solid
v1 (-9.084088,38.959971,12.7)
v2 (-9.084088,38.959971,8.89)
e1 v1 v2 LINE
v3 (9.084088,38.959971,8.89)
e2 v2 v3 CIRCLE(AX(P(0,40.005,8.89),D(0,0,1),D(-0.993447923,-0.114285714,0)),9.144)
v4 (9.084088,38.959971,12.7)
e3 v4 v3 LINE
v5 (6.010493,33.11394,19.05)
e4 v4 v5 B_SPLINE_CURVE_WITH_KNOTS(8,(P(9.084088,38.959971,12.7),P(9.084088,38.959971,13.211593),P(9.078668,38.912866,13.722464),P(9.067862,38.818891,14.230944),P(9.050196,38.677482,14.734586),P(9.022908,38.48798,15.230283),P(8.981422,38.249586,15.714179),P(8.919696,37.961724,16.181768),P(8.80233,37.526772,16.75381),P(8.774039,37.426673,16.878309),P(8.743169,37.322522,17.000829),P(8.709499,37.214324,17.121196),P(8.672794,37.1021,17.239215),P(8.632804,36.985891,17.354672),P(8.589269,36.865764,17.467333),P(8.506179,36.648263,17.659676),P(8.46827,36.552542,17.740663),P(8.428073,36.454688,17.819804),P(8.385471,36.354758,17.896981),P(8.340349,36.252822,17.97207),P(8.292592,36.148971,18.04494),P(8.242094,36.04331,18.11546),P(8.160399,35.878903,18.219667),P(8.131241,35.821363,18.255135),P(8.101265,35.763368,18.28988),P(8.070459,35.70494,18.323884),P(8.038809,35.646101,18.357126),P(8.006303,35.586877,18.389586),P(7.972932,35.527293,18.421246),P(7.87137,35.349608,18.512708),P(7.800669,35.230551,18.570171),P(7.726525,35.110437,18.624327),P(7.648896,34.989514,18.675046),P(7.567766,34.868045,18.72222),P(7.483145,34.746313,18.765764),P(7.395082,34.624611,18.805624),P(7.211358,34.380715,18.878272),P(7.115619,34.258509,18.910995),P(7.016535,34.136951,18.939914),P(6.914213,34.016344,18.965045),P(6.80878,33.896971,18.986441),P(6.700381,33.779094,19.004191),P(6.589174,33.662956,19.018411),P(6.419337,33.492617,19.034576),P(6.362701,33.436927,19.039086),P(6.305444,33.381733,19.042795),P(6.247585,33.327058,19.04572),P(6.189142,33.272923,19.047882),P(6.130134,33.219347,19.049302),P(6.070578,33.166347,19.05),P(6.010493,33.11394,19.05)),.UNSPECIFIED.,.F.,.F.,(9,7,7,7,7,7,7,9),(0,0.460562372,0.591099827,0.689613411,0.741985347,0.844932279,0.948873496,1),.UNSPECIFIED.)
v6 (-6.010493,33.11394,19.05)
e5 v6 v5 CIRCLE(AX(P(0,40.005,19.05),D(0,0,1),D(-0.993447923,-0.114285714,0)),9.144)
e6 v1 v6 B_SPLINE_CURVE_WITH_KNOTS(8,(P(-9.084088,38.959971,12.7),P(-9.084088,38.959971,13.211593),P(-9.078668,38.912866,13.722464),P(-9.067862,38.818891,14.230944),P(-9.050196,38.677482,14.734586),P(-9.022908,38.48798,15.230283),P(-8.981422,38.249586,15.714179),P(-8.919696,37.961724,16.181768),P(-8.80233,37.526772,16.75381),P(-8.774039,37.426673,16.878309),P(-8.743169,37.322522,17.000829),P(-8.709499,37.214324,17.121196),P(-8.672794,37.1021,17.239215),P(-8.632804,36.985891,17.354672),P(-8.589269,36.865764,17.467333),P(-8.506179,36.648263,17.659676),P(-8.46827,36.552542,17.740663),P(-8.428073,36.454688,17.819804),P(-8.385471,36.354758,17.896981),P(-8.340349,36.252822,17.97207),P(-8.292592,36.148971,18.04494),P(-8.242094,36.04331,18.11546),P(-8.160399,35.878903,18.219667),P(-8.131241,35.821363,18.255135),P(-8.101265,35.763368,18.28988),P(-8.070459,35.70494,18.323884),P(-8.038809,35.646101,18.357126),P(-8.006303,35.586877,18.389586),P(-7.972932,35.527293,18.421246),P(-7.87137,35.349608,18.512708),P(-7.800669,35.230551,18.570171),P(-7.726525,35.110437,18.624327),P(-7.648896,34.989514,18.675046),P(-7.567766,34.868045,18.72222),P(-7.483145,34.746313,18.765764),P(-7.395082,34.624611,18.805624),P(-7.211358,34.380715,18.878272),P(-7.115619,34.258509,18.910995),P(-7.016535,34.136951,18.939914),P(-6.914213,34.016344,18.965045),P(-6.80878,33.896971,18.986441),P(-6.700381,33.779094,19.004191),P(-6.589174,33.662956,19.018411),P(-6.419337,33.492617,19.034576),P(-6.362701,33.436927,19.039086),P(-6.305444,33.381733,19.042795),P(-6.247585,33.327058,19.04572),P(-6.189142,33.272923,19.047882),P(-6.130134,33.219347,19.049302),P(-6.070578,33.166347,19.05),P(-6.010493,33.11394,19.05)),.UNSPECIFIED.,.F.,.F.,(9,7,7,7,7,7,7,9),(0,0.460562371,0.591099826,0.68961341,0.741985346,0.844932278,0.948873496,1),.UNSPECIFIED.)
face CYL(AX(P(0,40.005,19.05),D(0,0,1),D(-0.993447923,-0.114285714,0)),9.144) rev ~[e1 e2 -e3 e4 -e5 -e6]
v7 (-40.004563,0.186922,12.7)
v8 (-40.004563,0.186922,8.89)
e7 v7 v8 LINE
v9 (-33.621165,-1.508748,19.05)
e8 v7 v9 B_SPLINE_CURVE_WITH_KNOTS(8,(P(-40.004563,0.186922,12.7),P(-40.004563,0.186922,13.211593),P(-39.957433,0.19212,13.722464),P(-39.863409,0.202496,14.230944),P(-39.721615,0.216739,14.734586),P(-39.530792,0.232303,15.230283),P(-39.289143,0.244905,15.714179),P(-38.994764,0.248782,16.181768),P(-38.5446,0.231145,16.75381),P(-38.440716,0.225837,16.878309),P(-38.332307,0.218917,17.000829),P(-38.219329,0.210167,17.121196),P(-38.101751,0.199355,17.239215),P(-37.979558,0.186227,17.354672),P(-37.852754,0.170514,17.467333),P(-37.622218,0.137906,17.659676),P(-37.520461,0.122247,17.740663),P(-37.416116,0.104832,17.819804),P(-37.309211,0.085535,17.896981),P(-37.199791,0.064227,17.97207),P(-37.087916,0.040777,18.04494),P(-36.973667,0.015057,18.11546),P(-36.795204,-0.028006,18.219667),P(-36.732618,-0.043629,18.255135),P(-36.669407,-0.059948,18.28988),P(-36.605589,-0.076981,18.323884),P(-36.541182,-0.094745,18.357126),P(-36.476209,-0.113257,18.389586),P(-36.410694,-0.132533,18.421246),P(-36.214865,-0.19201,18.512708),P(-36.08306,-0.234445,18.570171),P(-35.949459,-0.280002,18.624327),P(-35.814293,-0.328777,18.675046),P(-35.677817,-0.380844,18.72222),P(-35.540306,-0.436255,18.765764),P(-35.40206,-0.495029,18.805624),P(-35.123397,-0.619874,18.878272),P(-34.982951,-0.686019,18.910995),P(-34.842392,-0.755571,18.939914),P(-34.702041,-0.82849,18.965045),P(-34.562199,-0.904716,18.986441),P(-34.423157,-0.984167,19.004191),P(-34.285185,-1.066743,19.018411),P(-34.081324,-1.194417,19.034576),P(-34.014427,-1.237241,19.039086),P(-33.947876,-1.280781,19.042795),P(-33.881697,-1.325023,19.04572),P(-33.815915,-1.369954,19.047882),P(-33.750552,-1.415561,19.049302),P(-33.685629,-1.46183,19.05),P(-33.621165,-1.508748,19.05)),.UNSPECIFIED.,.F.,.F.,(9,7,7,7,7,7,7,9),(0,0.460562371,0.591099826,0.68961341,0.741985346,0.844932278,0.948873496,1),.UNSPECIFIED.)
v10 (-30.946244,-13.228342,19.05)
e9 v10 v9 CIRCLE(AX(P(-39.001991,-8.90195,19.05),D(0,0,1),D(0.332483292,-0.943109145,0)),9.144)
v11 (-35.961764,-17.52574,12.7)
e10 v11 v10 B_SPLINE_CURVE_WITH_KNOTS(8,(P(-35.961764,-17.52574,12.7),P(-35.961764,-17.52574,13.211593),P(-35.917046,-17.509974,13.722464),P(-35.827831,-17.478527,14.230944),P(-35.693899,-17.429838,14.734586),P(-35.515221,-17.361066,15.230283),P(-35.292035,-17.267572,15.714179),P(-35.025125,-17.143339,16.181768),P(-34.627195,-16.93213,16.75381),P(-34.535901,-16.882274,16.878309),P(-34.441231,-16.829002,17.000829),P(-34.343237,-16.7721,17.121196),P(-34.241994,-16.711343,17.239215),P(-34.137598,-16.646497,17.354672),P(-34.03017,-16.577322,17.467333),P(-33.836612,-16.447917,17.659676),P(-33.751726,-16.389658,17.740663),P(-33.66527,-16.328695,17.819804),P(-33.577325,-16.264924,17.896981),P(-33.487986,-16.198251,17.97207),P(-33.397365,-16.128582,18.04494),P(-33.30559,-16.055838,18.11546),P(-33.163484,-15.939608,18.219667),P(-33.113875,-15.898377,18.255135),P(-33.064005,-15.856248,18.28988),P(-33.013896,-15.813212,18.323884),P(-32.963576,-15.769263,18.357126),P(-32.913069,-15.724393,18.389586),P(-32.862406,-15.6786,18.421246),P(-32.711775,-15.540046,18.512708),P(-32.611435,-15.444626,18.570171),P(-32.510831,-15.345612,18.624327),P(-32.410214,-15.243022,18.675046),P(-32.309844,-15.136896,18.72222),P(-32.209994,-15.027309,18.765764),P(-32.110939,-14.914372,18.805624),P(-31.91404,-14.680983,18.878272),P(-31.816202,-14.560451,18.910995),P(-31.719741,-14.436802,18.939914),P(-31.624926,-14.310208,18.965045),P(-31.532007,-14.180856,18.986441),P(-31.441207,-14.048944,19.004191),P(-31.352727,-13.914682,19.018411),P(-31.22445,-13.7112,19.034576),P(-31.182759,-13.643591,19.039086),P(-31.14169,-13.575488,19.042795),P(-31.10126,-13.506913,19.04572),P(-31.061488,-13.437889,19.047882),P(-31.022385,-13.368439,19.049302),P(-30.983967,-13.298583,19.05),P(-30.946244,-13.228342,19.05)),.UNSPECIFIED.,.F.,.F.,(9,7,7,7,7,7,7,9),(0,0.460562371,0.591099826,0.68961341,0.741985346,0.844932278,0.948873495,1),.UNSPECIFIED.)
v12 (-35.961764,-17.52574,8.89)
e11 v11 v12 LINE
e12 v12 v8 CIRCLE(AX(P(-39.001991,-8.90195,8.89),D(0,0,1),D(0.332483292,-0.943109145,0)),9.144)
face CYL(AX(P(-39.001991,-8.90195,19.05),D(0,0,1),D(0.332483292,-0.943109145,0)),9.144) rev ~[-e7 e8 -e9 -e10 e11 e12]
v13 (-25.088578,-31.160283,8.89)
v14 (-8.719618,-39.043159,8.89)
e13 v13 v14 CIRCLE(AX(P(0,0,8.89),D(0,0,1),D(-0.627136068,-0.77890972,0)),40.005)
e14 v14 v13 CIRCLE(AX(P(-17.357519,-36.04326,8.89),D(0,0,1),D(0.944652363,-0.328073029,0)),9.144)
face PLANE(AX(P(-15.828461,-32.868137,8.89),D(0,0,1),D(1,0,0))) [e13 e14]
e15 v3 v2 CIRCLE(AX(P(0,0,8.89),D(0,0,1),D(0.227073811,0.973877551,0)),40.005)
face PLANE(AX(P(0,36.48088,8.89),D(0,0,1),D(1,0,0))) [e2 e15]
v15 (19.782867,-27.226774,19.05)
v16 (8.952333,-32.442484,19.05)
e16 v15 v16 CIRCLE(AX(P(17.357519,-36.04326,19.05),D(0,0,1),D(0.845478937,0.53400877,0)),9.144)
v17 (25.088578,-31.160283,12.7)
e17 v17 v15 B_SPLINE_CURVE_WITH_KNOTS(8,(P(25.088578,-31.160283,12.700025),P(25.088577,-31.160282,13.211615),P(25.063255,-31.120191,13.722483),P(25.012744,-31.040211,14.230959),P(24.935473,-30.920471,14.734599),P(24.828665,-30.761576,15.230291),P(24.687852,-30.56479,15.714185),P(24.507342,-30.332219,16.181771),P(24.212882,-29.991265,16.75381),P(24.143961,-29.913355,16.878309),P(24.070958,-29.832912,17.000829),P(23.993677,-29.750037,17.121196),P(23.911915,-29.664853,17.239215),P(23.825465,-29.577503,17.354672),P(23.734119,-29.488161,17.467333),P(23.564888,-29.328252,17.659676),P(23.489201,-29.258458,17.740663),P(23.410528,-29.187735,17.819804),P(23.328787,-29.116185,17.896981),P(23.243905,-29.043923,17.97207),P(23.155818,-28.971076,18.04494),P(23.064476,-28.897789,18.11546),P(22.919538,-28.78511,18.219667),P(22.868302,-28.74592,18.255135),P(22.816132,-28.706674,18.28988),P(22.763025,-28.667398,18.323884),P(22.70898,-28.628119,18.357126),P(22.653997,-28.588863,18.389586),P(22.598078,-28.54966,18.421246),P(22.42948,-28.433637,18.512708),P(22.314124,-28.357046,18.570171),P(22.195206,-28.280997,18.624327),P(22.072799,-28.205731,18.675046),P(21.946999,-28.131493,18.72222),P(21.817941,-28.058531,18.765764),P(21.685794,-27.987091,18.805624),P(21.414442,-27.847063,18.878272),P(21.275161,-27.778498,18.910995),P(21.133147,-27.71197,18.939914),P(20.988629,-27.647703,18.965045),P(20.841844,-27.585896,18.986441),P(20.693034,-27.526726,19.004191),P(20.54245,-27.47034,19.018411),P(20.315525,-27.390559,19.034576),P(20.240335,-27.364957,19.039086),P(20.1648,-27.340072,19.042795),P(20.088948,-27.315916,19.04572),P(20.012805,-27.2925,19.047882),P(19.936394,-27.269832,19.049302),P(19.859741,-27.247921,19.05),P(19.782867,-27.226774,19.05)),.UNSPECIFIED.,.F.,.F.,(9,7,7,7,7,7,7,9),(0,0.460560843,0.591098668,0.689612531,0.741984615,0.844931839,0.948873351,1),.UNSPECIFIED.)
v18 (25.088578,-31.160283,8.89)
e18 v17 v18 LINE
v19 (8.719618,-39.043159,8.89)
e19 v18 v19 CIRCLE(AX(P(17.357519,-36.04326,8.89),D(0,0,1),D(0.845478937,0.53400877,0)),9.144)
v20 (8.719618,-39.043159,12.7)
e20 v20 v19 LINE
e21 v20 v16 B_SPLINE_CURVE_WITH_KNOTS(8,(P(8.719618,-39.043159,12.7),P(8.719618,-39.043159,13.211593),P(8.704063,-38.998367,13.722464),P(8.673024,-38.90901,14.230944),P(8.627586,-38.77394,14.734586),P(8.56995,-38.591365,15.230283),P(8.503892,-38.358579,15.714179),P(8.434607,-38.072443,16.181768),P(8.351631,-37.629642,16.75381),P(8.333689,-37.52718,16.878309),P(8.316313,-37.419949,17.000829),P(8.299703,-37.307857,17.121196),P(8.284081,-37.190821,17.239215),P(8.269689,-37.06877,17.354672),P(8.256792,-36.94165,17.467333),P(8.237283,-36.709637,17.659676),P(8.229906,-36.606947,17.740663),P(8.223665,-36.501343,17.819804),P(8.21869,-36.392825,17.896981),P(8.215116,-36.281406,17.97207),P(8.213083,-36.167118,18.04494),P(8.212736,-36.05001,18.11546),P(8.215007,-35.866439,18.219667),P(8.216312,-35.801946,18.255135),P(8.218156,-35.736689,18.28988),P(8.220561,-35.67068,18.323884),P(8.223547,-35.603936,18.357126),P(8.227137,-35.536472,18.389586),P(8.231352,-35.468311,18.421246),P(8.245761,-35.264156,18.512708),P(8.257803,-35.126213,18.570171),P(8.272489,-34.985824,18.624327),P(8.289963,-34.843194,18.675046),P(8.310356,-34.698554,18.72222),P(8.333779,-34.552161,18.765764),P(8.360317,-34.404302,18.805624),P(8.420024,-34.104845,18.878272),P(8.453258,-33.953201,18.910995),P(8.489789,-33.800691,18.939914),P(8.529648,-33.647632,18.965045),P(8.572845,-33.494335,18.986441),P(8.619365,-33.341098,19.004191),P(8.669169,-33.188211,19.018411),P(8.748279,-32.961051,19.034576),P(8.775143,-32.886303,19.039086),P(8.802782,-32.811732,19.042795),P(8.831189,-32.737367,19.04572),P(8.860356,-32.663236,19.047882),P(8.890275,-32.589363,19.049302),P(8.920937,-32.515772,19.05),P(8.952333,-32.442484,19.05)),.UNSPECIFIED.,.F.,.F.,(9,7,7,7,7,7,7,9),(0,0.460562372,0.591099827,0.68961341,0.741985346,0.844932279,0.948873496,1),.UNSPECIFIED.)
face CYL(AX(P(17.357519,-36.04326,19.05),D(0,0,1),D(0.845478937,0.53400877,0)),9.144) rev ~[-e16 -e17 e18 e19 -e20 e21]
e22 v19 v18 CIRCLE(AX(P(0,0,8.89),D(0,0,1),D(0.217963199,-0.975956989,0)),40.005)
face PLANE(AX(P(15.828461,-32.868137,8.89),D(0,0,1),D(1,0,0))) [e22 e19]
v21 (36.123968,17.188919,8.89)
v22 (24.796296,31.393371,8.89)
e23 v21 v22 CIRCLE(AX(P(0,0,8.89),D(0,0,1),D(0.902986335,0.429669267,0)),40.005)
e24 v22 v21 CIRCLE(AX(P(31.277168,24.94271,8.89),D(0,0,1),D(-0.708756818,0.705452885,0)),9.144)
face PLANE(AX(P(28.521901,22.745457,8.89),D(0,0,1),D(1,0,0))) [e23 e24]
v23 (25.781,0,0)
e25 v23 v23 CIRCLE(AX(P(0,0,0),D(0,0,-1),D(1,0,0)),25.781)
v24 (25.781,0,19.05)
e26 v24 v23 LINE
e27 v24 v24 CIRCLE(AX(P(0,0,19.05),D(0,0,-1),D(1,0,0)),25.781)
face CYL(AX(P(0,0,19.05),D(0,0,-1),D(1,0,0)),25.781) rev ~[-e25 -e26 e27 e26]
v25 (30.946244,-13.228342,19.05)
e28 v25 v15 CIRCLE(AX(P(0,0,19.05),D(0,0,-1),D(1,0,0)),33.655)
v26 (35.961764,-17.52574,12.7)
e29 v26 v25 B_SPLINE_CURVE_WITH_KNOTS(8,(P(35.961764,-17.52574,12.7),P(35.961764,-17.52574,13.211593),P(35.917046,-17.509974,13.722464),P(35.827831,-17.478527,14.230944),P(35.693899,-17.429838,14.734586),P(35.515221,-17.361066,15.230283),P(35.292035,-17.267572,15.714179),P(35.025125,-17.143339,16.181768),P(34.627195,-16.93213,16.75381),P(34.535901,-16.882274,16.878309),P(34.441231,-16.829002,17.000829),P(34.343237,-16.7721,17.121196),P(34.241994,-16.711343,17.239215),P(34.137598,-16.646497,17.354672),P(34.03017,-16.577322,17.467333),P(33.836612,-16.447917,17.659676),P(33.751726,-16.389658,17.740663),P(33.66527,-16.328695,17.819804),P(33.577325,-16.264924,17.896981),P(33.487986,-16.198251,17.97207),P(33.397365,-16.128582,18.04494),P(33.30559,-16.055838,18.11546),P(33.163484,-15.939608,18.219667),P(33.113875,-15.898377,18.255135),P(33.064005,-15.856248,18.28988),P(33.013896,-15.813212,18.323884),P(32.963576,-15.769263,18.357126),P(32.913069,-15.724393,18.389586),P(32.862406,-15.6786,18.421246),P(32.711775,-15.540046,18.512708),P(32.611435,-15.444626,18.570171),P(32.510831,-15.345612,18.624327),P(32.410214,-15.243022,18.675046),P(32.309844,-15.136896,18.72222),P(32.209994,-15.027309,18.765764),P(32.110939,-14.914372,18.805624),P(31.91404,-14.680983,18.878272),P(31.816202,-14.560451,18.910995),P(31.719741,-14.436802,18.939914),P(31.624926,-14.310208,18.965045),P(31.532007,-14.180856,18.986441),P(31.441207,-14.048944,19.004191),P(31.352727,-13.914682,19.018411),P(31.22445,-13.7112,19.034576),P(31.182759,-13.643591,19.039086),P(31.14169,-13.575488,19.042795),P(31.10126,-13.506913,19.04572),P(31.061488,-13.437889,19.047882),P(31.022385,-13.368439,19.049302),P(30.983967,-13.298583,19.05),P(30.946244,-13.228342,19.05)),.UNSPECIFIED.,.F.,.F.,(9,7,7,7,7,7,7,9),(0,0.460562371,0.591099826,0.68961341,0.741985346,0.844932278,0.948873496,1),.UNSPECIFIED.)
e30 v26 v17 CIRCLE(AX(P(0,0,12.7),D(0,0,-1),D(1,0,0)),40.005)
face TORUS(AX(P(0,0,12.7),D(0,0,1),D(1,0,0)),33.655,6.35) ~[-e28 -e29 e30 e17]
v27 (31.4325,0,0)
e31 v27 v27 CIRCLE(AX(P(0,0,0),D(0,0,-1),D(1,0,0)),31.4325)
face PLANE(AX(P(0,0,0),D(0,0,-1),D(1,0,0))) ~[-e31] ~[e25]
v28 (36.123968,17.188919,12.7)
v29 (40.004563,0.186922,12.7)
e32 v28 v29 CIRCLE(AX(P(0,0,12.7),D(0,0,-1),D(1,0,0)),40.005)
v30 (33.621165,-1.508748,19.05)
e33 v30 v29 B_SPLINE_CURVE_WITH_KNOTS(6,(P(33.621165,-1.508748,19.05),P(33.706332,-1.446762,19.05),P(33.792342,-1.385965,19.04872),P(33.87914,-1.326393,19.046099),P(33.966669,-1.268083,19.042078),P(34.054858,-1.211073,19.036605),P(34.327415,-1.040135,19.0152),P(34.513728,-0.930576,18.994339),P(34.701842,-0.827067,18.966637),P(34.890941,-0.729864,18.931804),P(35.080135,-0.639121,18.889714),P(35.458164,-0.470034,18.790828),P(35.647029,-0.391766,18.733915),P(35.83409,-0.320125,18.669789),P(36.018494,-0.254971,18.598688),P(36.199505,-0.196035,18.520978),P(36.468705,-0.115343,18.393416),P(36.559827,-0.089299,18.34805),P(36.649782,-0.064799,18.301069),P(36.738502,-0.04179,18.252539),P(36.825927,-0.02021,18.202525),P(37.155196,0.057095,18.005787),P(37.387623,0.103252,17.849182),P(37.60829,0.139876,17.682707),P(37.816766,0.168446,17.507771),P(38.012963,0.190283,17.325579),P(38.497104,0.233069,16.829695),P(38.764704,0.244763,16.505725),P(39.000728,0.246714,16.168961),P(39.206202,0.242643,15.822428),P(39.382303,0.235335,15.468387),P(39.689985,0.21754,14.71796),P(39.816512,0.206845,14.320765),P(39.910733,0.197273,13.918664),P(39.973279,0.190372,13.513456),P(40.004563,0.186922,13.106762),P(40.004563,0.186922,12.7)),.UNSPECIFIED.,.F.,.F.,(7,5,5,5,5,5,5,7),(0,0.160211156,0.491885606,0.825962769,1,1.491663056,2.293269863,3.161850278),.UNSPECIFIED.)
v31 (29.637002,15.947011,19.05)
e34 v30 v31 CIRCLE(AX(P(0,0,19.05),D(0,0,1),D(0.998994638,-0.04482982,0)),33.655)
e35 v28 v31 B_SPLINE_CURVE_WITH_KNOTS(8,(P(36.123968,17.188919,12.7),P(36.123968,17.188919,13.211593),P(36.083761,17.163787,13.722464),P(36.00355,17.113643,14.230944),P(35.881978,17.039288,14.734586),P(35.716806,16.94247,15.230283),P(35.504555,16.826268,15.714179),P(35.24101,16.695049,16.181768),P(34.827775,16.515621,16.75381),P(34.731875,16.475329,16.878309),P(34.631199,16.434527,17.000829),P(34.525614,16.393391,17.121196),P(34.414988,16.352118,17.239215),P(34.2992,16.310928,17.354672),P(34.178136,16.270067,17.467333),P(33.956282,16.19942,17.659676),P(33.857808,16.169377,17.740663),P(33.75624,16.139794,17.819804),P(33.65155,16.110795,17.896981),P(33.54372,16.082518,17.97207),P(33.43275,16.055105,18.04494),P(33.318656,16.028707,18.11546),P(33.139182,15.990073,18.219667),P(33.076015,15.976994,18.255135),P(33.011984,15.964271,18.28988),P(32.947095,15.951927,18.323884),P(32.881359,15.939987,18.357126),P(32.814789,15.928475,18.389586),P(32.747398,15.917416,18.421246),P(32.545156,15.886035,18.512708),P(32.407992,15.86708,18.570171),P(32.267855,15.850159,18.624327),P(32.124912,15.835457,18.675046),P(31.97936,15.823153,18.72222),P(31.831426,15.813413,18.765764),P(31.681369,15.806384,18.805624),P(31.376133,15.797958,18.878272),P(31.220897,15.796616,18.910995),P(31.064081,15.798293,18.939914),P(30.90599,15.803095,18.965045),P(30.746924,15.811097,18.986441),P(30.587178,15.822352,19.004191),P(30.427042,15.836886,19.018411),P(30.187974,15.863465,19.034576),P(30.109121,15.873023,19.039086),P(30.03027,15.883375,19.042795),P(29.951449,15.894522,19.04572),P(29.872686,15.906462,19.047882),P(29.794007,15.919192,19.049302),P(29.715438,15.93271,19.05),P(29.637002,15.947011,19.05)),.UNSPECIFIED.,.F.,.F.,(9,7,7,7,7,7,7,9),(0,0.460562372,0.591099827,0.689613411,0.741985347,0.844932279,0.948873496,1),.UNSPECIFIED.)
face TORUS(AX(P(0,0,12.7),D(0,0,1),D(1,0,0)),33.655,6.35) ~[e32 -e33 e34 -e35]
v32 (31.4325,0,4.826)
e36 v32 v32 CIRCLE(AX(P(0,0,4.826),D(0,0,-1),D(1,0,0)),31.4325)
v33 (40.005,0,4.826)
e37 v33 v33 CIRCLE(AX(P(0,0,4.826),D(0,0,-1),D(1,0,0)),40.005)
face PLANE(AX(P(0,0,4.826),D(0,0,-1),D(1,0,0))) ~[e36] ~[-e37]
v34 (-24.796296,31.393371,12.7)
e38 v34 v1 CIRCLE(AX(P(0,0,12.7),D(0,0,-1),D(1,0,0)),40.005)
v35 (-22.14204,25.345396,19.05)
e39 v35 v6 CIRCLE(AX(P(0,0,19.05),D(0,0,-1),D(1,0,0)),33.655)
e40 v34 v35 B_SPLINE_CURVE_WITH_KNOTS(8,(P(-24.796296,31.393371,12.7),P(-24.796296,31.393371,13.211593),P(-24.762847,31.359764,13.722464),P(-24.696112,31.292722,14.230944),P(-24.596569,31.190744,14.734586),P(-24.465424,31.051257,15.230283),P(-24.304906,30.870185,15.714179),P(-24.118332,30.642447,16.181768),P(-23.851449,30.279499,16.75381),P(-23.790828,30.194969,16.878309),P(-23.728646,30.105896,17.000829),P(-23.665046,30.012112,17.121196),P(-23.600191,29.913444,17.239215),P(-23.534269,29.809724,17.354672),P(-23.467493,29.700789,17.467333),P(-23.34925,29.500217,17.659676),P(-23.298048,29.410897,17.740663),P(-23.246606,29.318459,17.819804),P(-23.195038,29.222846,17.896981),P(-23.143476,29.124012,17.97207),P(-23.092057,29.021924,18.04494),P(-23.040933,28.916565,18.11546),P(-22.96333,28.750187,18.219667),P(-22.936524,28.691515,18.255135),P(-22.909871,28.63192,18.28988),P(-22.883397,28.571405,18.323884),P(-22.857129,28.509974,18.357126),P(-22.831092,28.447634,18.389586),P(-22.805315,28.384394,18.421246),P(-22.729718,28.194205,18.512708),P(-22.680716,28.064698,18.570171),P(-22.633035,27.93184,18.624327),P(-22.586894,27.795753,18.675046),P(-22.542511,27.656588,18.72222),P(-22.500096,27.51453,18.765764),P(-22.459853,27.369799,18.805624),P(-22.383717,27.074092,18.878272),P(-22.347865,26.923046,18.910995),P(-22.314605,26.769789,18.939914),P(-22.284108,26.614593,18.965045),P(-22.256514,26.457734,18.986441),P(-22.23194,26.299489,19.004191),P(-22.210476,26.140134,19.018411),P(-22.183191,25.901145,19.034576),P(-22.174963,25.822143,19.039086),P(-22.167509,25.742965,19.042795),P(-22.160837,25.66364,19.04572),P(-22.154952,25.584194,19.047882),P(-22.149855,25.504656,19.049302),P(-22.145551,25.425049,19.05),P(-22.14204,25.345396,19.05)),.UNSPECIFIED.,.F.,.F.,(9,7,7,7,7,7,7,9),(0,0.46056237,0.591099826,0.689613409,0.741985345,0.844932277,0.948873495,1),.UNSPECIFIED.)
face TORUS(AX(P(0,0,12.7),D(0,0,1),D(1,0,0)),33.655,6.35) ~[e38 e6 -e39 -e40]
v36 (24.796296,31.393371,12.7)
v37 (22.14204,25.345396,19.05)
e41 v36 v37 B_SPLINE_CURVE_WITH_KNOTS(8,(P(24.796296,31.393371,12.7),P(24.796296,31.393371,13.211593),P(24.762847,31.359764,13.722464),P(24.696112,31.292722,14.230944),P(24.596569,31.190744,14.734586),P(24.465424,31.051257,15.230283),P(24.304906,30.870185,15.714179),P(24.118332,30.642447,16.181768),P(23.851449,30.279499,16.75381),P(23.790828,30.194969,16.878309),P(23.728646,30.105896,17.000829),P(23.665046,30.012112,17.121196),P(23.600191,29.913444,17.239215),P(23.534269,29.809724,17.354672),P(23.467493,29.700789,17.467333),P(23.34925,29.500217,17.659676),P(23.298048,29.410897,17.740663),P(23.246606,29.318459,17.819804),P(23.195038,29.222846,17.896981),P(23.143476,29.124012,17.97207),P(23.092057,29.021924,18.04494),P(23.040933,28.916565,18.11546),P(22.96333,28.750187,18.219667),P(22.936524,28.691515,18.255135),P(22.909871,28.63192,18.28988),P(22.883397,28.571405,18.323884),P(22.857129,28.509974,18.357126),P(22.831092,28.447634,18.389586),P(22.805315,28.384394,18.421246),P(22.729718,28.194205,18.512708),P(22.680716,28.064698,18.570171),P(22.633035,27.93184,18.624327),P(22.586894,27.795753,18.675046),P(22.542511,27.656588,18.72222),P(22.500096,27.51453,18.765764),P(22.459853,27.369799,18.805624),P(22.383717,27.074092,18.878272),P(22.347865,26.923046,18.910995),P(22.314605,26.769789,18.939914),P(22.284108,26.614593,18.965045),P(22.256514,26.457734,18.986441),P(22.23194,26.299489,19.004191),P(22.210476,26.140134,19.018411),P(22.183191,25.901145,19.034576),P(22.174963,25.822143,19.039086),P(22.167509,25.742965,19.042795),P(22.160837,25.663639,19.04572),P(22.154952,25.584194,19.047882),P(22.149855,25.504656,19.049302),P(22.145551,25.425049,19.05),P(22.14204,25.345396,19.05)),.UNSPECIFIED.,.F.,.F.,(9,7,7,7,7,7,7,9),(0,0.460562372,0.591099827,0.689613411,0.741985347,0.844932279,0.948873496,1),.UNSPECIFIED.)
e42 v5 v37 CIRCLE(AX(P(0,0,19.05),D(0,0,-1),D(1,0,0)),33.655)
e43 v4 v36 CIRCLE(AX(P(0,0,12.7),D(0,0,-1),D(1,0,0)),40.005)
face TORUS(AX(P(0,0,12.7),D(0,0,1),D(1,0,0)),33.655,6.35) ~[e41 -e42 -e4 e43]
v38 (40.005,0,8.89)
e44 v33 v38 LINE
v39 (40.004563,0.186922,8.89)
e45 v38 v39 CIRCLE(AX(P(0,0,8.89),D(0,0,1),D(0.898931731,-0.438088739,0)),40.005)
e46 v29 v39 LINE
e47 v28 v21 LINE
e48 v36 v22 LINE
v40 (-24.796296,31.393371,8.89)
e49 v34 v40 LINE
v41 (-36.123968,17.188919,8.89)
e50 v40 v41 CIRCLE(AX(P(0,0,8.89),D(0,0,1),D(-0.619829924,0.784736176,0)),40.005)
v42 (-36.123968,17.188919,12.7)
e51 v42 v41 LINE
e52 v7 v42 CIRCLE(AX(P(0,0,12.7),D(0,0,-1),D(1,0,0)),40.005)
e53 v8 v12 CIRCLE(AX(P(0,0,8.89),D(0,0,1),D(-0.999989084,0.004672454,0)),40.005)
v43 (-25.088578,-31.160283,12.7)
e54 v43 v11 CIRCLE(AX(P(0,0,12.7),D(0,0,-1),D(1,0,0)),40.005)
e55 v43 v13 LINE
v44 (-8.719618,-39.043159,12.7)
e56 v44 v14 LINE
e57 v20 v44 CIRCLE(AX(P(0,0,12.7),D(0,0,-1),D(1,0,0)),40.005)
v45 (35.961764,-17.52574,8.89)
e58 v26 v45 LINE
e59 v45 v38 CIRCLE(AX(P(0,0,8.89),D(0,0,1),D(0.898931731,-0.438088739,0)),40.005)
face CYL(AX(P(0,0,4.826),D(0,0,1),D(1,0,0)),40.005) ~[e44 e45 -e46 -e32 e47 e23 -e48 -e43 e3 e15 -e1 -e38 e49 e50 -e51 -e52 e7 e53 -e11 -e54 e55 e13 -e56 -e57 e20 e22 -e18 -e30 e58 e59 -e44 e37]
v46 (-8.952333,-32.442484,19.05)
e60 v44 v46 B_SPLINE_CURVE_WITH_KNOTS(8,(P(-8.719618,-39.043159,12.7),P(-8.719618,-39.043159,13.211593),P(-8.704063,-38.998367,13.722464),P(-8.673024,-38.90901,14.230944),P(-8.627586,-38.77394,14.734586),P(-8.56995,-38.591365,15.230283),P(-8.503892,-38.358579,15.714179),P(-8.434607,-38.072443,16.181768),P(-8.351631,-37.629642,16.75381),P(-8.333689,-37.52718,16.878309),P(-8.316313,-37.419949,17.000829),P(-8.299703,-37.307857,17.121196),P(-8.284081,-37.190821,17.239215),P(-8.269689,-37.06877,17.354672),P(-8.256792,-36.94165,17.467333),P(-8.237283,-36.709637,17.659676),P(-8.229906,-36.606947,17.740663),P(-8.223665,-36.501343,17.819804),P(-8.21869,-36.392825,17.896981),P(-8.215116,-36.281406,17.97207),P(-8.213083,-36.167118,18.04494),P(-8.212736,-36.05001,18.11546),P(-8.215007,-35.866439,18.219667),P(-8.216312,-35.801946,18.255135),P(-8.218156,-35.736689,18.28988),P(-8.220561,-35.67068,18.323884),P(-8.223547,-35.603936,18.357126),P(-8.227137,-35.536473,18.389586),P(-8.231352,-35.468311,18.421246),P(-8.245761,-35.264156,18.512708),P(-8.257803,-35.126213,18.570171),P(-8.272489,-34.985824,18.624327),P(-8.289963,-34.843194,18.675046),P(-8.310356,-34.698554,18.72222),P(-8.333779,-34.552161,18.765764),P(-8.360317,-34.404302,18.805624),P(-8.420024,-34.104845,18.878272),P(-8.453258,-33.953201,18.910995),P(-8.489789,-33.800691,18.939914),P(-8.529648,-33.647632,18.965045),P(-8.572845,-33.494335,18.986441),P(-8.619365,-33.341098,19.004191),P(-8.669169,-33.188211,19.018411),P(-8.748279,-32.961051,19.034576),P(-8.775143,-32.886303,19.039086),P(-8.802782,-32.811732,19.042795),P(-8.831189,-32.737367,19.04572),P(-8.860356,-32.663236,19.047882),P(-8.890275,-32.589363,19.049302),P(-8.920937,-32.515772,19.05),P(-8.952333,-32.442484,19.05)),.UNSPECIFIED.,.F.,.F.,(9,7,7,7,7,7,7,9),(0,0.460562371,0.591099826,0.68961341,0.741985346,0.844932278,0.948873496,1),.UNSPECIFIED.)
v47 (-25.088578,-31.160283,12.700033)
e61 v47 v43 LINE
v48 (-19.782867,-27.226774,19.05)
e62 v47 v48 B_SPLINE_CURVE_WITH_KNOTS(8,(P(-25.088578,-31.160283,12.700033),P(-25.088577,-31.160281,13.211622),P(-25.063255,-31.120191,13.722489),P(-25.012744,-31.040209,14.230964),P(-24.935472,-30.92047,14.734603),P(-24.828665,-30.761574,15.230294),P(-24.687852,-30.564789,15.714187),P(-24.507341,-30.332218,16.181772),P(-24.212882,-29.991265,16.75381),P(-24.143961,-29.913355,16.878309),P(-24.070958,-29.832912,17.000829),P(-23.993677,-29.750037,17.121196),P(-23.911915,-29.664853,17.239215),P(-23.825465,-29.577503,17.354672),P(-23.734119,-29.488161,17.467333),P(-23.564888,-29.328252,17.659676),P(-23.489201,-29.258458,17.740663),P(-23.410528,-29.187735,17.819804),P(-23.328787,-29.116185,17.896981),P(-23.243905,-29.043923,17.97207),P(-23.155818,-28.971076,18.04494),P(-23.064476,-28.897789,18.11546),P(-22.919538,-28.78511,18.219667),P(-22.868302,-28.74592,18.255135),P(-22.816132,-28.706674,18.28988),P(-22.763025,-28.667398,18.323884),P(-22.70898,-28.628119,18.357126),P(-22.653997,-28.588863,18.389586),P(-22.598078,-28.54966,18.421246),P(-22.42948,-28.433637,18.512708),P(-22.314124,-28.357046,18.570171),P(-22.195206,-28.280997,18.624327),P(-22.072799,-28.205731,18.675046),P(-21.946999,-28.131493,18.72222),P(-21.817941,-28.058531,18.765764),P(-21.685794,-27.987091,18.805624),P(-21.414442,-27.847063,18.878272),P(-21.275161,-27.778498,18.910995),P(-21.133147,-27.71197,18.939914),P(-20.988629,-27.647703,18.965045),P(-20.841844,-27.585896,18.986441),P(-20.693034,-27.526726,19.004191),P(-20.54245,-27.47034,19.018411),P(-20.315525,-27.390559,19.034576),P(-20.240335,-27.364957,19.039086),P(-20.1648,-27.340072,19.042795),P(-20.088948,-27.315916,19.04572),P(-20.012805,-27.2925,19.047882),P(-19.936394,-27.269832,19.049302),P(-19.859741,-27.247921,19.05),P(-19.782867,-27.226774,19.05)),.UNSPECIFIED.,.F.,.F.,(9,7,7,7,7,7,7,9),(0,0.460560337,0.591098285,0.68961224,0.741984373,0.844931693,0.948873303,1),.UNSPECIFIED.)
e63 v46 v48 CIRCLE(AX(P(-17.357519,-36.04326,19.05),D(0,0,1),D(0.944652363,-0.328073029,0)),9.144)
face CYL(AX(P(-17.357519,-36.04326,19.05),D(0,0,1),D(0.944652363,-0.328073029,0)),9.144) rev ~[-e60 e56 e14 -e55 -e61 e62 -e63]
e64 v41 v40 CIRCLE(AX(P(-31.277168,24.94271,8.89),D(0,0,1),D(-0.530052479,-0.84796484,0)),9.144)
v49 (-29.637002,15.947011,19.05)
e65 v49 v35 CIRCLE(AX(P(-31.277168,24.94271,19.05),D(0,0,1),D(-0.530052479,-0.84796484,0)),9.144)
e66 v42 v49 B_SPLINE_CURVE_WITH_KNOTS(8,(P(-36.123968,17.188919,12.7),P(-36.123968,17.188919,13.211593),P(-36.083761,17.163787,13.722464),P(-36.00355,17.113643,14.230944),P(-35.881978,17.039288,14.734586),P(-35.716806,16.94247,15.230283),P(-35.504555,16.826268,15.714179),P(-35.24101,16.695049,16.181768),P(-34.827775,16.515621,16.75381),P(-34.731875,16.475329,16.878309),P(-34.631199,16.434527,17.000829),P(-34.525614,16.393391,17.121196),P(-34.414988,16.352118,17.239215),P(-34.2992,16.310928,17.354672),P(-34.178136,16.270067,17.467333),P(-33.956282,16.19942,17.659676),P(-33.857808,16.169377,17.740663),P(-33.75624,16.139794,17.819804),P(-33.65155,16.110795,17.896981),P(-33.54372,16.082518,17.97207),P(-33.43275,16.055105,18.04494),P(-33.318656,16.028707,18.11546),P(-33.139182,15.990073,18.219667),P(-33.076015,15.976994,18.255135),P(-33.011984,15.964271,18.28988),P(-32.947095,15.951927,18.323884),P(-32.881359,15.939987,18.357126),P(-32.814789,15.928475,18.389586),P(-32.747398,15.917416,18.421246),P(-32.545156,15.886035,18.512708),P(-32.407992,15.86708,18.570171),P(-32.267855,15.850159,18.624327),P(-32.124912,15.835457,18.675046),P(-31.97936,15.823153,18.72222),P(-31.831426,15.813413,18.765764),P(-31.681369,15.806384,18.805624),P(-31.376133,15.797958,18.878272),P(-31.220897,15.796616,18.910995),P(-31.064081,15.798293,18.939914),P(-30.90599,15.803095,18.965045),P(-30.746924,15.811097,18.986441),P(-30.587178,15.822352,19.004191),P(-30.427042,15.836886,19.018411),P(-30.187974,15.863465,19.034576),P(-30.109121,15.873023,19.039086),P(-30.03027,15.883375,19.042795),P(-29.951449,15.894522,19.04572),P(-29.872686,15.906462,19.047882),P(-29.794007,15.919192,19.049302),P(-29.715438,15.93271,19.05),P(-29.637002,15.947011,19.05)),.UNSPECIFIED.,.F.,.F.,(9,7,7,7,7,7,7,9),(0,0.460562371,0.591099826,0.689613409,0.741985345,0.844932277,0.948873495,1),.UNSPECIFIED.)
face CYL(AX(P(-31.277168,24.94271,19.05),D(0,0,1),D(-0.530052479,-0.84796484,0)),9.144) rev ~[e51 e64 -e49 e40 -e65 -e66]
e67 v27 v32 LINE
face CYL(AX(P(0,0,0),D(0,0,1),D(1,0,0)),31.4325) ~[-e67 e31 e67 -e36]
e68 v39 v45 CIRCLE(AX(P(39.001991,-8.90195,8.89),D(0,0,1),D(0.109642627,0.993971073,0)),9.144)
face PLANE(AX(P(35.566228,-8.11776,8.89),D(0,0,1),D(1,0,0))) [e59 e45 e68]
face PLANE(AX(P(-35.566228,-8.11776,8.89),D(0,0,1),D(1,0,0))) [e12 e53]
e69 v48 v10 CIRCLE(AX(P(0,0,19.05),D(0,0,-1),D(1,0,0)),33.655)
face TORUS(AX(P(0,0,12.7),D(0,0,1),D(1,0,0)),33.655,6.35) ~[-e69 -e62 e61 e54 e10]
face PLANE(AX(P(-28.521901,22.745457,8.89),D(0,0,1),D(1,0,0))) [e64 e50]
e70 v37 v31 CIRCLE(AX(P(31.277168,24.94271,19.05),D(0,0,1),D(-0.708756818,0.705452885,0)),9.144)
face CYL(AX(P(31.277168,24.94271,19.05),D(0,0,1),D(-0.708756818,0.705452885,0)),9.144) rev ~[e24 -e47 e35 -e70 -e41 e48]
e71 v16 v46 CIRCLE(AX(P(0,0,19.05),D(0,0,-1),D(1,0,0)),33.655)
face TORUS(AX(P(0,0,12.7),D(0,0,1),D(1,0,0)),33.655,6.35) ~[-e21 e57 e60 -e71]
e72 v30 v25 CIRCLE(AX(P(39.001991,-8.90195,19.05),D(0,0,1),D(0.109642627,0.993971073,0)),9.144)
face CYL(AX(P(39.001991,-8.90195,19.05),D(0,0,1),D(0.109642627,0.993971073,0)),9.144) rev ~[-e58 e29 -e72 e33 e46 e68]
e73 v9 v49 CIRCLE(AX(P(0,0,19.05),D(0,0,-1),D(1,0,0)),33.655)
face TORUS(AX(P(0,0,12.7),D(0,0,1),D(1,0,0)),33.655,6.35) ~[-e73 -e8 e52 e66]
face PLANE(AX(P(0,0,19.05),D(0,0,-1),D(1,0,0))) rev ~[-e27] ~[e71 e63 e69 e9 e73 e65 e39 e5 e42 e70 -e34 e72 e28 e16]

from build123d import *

# Parameters (mm, degrees)
F4_DEPTH = 10.16


with BuildPart() as f1:
    # F0 (on Front) → F1 (revolve)
    with BuildSketch(Plane.XZ):
        with BuildLine():
            Line((25.781, 19.05), (25.781, 0))
            Line((25.781, 0), (31.4325, 0))
            Line((31.4325, 0), (31.4325, 4.826))
            Line((31.4325, 4.826), (40.005, 4.826))
            Line((40.005, 4.826), (40.005, 12.7))
            ThreePointArc((40.005, 12.7), (38.1451280605, 17.1901280605), (33.655, 19.05))
            Line((33.655, 19.05), (25.781, 19.05))
        make_face()
    revolve(axis=Axis((0, 0, 5.4042546308), (0, 0, -1)))

    # F3 (on offset) → F4 (cut)
    with BuildSketch(Plane.XY.offset(19.05)):
        with BuildLine():
            ThreePointArc((9.084087807, 38.9599714286), (0, 40.005), (-9.084087807, 38.9599714286))
            ThreePointArc((-9.084087807, 38.9599714286), (0, 30.861), (9.084087807, 38.9599714286))
        make_face()
        with BuildLine():
            ThreePointArc((-36.1239683258, 17.1889190294), (-24.1281013804, 19.2415187752), (-24.7962961121, 31.3933707034))
            ThreePointArc((-24.7962961121, 31.3933707034), (-31.2771684561, 24.9427095234), (-36.1239683258, 17.1889190294))
        make_face()
        with BuildLine():
            ThreePointArc((-35.9617639006, -17.5257399889), (-30.0872502978, -6.8672185428), (-40.0045633065, 0.1869215305))
            ThreePointArc((-40.0045633065, 0.1869215305), (-39.0019911268, -8.9019499629), (-35.9617639006, -17.5257399889))
        make_face()
        with BuildLine():
            ThreePointArc((-8.719617772, -39.0431593357), (-13.3900860729, -27.8048002323), (-25.0885783867, -31.1602833673))
            ThreePointArc((-25.0885783867, -31.1602833673), (-17.3575189834, -36.0432595604), (-8.719617772, -39.0431593357))
        make_face()
        with BuildLine():
            ThreePointArc((25.0885783867, -31.1602833673), (13.3900860729, -27.8048002323), (8.719617772, -39.0431593357))
            ThreePointArc((8.719617772, -39.0431593357), (17.3575189834, -36.0432595604), (25.0885783867, -31.1602833673))
        make_face()
        with BuildLine():
            ThreePointArc((40.0045633065, 0.1869215305), (30.0872502978, -6.8672185428), (35.9617639006, -17.5257399889))
            ThreePointArc((35.9617639006, -17.5257399889), (39.0019911268, -8.9019499629), (40.0045633065, 0.1869215305))
        make_face()
        with BuildLine():
            ThreePointArc((24.7962961121, 31.3933707034), (24.1281013804, 19.2415187752), (36.1239683258, 17.1889190294))
            ThreePointArc((36.1239683258, 17.1889190294), (31.2771684561, 24.9427095234), (24.7962961121, 31.3933707034))
        make_face()
    extrude(amount=-F4_DEPTH, mode=Mode.SUBTRACT)


solid = f1.part
